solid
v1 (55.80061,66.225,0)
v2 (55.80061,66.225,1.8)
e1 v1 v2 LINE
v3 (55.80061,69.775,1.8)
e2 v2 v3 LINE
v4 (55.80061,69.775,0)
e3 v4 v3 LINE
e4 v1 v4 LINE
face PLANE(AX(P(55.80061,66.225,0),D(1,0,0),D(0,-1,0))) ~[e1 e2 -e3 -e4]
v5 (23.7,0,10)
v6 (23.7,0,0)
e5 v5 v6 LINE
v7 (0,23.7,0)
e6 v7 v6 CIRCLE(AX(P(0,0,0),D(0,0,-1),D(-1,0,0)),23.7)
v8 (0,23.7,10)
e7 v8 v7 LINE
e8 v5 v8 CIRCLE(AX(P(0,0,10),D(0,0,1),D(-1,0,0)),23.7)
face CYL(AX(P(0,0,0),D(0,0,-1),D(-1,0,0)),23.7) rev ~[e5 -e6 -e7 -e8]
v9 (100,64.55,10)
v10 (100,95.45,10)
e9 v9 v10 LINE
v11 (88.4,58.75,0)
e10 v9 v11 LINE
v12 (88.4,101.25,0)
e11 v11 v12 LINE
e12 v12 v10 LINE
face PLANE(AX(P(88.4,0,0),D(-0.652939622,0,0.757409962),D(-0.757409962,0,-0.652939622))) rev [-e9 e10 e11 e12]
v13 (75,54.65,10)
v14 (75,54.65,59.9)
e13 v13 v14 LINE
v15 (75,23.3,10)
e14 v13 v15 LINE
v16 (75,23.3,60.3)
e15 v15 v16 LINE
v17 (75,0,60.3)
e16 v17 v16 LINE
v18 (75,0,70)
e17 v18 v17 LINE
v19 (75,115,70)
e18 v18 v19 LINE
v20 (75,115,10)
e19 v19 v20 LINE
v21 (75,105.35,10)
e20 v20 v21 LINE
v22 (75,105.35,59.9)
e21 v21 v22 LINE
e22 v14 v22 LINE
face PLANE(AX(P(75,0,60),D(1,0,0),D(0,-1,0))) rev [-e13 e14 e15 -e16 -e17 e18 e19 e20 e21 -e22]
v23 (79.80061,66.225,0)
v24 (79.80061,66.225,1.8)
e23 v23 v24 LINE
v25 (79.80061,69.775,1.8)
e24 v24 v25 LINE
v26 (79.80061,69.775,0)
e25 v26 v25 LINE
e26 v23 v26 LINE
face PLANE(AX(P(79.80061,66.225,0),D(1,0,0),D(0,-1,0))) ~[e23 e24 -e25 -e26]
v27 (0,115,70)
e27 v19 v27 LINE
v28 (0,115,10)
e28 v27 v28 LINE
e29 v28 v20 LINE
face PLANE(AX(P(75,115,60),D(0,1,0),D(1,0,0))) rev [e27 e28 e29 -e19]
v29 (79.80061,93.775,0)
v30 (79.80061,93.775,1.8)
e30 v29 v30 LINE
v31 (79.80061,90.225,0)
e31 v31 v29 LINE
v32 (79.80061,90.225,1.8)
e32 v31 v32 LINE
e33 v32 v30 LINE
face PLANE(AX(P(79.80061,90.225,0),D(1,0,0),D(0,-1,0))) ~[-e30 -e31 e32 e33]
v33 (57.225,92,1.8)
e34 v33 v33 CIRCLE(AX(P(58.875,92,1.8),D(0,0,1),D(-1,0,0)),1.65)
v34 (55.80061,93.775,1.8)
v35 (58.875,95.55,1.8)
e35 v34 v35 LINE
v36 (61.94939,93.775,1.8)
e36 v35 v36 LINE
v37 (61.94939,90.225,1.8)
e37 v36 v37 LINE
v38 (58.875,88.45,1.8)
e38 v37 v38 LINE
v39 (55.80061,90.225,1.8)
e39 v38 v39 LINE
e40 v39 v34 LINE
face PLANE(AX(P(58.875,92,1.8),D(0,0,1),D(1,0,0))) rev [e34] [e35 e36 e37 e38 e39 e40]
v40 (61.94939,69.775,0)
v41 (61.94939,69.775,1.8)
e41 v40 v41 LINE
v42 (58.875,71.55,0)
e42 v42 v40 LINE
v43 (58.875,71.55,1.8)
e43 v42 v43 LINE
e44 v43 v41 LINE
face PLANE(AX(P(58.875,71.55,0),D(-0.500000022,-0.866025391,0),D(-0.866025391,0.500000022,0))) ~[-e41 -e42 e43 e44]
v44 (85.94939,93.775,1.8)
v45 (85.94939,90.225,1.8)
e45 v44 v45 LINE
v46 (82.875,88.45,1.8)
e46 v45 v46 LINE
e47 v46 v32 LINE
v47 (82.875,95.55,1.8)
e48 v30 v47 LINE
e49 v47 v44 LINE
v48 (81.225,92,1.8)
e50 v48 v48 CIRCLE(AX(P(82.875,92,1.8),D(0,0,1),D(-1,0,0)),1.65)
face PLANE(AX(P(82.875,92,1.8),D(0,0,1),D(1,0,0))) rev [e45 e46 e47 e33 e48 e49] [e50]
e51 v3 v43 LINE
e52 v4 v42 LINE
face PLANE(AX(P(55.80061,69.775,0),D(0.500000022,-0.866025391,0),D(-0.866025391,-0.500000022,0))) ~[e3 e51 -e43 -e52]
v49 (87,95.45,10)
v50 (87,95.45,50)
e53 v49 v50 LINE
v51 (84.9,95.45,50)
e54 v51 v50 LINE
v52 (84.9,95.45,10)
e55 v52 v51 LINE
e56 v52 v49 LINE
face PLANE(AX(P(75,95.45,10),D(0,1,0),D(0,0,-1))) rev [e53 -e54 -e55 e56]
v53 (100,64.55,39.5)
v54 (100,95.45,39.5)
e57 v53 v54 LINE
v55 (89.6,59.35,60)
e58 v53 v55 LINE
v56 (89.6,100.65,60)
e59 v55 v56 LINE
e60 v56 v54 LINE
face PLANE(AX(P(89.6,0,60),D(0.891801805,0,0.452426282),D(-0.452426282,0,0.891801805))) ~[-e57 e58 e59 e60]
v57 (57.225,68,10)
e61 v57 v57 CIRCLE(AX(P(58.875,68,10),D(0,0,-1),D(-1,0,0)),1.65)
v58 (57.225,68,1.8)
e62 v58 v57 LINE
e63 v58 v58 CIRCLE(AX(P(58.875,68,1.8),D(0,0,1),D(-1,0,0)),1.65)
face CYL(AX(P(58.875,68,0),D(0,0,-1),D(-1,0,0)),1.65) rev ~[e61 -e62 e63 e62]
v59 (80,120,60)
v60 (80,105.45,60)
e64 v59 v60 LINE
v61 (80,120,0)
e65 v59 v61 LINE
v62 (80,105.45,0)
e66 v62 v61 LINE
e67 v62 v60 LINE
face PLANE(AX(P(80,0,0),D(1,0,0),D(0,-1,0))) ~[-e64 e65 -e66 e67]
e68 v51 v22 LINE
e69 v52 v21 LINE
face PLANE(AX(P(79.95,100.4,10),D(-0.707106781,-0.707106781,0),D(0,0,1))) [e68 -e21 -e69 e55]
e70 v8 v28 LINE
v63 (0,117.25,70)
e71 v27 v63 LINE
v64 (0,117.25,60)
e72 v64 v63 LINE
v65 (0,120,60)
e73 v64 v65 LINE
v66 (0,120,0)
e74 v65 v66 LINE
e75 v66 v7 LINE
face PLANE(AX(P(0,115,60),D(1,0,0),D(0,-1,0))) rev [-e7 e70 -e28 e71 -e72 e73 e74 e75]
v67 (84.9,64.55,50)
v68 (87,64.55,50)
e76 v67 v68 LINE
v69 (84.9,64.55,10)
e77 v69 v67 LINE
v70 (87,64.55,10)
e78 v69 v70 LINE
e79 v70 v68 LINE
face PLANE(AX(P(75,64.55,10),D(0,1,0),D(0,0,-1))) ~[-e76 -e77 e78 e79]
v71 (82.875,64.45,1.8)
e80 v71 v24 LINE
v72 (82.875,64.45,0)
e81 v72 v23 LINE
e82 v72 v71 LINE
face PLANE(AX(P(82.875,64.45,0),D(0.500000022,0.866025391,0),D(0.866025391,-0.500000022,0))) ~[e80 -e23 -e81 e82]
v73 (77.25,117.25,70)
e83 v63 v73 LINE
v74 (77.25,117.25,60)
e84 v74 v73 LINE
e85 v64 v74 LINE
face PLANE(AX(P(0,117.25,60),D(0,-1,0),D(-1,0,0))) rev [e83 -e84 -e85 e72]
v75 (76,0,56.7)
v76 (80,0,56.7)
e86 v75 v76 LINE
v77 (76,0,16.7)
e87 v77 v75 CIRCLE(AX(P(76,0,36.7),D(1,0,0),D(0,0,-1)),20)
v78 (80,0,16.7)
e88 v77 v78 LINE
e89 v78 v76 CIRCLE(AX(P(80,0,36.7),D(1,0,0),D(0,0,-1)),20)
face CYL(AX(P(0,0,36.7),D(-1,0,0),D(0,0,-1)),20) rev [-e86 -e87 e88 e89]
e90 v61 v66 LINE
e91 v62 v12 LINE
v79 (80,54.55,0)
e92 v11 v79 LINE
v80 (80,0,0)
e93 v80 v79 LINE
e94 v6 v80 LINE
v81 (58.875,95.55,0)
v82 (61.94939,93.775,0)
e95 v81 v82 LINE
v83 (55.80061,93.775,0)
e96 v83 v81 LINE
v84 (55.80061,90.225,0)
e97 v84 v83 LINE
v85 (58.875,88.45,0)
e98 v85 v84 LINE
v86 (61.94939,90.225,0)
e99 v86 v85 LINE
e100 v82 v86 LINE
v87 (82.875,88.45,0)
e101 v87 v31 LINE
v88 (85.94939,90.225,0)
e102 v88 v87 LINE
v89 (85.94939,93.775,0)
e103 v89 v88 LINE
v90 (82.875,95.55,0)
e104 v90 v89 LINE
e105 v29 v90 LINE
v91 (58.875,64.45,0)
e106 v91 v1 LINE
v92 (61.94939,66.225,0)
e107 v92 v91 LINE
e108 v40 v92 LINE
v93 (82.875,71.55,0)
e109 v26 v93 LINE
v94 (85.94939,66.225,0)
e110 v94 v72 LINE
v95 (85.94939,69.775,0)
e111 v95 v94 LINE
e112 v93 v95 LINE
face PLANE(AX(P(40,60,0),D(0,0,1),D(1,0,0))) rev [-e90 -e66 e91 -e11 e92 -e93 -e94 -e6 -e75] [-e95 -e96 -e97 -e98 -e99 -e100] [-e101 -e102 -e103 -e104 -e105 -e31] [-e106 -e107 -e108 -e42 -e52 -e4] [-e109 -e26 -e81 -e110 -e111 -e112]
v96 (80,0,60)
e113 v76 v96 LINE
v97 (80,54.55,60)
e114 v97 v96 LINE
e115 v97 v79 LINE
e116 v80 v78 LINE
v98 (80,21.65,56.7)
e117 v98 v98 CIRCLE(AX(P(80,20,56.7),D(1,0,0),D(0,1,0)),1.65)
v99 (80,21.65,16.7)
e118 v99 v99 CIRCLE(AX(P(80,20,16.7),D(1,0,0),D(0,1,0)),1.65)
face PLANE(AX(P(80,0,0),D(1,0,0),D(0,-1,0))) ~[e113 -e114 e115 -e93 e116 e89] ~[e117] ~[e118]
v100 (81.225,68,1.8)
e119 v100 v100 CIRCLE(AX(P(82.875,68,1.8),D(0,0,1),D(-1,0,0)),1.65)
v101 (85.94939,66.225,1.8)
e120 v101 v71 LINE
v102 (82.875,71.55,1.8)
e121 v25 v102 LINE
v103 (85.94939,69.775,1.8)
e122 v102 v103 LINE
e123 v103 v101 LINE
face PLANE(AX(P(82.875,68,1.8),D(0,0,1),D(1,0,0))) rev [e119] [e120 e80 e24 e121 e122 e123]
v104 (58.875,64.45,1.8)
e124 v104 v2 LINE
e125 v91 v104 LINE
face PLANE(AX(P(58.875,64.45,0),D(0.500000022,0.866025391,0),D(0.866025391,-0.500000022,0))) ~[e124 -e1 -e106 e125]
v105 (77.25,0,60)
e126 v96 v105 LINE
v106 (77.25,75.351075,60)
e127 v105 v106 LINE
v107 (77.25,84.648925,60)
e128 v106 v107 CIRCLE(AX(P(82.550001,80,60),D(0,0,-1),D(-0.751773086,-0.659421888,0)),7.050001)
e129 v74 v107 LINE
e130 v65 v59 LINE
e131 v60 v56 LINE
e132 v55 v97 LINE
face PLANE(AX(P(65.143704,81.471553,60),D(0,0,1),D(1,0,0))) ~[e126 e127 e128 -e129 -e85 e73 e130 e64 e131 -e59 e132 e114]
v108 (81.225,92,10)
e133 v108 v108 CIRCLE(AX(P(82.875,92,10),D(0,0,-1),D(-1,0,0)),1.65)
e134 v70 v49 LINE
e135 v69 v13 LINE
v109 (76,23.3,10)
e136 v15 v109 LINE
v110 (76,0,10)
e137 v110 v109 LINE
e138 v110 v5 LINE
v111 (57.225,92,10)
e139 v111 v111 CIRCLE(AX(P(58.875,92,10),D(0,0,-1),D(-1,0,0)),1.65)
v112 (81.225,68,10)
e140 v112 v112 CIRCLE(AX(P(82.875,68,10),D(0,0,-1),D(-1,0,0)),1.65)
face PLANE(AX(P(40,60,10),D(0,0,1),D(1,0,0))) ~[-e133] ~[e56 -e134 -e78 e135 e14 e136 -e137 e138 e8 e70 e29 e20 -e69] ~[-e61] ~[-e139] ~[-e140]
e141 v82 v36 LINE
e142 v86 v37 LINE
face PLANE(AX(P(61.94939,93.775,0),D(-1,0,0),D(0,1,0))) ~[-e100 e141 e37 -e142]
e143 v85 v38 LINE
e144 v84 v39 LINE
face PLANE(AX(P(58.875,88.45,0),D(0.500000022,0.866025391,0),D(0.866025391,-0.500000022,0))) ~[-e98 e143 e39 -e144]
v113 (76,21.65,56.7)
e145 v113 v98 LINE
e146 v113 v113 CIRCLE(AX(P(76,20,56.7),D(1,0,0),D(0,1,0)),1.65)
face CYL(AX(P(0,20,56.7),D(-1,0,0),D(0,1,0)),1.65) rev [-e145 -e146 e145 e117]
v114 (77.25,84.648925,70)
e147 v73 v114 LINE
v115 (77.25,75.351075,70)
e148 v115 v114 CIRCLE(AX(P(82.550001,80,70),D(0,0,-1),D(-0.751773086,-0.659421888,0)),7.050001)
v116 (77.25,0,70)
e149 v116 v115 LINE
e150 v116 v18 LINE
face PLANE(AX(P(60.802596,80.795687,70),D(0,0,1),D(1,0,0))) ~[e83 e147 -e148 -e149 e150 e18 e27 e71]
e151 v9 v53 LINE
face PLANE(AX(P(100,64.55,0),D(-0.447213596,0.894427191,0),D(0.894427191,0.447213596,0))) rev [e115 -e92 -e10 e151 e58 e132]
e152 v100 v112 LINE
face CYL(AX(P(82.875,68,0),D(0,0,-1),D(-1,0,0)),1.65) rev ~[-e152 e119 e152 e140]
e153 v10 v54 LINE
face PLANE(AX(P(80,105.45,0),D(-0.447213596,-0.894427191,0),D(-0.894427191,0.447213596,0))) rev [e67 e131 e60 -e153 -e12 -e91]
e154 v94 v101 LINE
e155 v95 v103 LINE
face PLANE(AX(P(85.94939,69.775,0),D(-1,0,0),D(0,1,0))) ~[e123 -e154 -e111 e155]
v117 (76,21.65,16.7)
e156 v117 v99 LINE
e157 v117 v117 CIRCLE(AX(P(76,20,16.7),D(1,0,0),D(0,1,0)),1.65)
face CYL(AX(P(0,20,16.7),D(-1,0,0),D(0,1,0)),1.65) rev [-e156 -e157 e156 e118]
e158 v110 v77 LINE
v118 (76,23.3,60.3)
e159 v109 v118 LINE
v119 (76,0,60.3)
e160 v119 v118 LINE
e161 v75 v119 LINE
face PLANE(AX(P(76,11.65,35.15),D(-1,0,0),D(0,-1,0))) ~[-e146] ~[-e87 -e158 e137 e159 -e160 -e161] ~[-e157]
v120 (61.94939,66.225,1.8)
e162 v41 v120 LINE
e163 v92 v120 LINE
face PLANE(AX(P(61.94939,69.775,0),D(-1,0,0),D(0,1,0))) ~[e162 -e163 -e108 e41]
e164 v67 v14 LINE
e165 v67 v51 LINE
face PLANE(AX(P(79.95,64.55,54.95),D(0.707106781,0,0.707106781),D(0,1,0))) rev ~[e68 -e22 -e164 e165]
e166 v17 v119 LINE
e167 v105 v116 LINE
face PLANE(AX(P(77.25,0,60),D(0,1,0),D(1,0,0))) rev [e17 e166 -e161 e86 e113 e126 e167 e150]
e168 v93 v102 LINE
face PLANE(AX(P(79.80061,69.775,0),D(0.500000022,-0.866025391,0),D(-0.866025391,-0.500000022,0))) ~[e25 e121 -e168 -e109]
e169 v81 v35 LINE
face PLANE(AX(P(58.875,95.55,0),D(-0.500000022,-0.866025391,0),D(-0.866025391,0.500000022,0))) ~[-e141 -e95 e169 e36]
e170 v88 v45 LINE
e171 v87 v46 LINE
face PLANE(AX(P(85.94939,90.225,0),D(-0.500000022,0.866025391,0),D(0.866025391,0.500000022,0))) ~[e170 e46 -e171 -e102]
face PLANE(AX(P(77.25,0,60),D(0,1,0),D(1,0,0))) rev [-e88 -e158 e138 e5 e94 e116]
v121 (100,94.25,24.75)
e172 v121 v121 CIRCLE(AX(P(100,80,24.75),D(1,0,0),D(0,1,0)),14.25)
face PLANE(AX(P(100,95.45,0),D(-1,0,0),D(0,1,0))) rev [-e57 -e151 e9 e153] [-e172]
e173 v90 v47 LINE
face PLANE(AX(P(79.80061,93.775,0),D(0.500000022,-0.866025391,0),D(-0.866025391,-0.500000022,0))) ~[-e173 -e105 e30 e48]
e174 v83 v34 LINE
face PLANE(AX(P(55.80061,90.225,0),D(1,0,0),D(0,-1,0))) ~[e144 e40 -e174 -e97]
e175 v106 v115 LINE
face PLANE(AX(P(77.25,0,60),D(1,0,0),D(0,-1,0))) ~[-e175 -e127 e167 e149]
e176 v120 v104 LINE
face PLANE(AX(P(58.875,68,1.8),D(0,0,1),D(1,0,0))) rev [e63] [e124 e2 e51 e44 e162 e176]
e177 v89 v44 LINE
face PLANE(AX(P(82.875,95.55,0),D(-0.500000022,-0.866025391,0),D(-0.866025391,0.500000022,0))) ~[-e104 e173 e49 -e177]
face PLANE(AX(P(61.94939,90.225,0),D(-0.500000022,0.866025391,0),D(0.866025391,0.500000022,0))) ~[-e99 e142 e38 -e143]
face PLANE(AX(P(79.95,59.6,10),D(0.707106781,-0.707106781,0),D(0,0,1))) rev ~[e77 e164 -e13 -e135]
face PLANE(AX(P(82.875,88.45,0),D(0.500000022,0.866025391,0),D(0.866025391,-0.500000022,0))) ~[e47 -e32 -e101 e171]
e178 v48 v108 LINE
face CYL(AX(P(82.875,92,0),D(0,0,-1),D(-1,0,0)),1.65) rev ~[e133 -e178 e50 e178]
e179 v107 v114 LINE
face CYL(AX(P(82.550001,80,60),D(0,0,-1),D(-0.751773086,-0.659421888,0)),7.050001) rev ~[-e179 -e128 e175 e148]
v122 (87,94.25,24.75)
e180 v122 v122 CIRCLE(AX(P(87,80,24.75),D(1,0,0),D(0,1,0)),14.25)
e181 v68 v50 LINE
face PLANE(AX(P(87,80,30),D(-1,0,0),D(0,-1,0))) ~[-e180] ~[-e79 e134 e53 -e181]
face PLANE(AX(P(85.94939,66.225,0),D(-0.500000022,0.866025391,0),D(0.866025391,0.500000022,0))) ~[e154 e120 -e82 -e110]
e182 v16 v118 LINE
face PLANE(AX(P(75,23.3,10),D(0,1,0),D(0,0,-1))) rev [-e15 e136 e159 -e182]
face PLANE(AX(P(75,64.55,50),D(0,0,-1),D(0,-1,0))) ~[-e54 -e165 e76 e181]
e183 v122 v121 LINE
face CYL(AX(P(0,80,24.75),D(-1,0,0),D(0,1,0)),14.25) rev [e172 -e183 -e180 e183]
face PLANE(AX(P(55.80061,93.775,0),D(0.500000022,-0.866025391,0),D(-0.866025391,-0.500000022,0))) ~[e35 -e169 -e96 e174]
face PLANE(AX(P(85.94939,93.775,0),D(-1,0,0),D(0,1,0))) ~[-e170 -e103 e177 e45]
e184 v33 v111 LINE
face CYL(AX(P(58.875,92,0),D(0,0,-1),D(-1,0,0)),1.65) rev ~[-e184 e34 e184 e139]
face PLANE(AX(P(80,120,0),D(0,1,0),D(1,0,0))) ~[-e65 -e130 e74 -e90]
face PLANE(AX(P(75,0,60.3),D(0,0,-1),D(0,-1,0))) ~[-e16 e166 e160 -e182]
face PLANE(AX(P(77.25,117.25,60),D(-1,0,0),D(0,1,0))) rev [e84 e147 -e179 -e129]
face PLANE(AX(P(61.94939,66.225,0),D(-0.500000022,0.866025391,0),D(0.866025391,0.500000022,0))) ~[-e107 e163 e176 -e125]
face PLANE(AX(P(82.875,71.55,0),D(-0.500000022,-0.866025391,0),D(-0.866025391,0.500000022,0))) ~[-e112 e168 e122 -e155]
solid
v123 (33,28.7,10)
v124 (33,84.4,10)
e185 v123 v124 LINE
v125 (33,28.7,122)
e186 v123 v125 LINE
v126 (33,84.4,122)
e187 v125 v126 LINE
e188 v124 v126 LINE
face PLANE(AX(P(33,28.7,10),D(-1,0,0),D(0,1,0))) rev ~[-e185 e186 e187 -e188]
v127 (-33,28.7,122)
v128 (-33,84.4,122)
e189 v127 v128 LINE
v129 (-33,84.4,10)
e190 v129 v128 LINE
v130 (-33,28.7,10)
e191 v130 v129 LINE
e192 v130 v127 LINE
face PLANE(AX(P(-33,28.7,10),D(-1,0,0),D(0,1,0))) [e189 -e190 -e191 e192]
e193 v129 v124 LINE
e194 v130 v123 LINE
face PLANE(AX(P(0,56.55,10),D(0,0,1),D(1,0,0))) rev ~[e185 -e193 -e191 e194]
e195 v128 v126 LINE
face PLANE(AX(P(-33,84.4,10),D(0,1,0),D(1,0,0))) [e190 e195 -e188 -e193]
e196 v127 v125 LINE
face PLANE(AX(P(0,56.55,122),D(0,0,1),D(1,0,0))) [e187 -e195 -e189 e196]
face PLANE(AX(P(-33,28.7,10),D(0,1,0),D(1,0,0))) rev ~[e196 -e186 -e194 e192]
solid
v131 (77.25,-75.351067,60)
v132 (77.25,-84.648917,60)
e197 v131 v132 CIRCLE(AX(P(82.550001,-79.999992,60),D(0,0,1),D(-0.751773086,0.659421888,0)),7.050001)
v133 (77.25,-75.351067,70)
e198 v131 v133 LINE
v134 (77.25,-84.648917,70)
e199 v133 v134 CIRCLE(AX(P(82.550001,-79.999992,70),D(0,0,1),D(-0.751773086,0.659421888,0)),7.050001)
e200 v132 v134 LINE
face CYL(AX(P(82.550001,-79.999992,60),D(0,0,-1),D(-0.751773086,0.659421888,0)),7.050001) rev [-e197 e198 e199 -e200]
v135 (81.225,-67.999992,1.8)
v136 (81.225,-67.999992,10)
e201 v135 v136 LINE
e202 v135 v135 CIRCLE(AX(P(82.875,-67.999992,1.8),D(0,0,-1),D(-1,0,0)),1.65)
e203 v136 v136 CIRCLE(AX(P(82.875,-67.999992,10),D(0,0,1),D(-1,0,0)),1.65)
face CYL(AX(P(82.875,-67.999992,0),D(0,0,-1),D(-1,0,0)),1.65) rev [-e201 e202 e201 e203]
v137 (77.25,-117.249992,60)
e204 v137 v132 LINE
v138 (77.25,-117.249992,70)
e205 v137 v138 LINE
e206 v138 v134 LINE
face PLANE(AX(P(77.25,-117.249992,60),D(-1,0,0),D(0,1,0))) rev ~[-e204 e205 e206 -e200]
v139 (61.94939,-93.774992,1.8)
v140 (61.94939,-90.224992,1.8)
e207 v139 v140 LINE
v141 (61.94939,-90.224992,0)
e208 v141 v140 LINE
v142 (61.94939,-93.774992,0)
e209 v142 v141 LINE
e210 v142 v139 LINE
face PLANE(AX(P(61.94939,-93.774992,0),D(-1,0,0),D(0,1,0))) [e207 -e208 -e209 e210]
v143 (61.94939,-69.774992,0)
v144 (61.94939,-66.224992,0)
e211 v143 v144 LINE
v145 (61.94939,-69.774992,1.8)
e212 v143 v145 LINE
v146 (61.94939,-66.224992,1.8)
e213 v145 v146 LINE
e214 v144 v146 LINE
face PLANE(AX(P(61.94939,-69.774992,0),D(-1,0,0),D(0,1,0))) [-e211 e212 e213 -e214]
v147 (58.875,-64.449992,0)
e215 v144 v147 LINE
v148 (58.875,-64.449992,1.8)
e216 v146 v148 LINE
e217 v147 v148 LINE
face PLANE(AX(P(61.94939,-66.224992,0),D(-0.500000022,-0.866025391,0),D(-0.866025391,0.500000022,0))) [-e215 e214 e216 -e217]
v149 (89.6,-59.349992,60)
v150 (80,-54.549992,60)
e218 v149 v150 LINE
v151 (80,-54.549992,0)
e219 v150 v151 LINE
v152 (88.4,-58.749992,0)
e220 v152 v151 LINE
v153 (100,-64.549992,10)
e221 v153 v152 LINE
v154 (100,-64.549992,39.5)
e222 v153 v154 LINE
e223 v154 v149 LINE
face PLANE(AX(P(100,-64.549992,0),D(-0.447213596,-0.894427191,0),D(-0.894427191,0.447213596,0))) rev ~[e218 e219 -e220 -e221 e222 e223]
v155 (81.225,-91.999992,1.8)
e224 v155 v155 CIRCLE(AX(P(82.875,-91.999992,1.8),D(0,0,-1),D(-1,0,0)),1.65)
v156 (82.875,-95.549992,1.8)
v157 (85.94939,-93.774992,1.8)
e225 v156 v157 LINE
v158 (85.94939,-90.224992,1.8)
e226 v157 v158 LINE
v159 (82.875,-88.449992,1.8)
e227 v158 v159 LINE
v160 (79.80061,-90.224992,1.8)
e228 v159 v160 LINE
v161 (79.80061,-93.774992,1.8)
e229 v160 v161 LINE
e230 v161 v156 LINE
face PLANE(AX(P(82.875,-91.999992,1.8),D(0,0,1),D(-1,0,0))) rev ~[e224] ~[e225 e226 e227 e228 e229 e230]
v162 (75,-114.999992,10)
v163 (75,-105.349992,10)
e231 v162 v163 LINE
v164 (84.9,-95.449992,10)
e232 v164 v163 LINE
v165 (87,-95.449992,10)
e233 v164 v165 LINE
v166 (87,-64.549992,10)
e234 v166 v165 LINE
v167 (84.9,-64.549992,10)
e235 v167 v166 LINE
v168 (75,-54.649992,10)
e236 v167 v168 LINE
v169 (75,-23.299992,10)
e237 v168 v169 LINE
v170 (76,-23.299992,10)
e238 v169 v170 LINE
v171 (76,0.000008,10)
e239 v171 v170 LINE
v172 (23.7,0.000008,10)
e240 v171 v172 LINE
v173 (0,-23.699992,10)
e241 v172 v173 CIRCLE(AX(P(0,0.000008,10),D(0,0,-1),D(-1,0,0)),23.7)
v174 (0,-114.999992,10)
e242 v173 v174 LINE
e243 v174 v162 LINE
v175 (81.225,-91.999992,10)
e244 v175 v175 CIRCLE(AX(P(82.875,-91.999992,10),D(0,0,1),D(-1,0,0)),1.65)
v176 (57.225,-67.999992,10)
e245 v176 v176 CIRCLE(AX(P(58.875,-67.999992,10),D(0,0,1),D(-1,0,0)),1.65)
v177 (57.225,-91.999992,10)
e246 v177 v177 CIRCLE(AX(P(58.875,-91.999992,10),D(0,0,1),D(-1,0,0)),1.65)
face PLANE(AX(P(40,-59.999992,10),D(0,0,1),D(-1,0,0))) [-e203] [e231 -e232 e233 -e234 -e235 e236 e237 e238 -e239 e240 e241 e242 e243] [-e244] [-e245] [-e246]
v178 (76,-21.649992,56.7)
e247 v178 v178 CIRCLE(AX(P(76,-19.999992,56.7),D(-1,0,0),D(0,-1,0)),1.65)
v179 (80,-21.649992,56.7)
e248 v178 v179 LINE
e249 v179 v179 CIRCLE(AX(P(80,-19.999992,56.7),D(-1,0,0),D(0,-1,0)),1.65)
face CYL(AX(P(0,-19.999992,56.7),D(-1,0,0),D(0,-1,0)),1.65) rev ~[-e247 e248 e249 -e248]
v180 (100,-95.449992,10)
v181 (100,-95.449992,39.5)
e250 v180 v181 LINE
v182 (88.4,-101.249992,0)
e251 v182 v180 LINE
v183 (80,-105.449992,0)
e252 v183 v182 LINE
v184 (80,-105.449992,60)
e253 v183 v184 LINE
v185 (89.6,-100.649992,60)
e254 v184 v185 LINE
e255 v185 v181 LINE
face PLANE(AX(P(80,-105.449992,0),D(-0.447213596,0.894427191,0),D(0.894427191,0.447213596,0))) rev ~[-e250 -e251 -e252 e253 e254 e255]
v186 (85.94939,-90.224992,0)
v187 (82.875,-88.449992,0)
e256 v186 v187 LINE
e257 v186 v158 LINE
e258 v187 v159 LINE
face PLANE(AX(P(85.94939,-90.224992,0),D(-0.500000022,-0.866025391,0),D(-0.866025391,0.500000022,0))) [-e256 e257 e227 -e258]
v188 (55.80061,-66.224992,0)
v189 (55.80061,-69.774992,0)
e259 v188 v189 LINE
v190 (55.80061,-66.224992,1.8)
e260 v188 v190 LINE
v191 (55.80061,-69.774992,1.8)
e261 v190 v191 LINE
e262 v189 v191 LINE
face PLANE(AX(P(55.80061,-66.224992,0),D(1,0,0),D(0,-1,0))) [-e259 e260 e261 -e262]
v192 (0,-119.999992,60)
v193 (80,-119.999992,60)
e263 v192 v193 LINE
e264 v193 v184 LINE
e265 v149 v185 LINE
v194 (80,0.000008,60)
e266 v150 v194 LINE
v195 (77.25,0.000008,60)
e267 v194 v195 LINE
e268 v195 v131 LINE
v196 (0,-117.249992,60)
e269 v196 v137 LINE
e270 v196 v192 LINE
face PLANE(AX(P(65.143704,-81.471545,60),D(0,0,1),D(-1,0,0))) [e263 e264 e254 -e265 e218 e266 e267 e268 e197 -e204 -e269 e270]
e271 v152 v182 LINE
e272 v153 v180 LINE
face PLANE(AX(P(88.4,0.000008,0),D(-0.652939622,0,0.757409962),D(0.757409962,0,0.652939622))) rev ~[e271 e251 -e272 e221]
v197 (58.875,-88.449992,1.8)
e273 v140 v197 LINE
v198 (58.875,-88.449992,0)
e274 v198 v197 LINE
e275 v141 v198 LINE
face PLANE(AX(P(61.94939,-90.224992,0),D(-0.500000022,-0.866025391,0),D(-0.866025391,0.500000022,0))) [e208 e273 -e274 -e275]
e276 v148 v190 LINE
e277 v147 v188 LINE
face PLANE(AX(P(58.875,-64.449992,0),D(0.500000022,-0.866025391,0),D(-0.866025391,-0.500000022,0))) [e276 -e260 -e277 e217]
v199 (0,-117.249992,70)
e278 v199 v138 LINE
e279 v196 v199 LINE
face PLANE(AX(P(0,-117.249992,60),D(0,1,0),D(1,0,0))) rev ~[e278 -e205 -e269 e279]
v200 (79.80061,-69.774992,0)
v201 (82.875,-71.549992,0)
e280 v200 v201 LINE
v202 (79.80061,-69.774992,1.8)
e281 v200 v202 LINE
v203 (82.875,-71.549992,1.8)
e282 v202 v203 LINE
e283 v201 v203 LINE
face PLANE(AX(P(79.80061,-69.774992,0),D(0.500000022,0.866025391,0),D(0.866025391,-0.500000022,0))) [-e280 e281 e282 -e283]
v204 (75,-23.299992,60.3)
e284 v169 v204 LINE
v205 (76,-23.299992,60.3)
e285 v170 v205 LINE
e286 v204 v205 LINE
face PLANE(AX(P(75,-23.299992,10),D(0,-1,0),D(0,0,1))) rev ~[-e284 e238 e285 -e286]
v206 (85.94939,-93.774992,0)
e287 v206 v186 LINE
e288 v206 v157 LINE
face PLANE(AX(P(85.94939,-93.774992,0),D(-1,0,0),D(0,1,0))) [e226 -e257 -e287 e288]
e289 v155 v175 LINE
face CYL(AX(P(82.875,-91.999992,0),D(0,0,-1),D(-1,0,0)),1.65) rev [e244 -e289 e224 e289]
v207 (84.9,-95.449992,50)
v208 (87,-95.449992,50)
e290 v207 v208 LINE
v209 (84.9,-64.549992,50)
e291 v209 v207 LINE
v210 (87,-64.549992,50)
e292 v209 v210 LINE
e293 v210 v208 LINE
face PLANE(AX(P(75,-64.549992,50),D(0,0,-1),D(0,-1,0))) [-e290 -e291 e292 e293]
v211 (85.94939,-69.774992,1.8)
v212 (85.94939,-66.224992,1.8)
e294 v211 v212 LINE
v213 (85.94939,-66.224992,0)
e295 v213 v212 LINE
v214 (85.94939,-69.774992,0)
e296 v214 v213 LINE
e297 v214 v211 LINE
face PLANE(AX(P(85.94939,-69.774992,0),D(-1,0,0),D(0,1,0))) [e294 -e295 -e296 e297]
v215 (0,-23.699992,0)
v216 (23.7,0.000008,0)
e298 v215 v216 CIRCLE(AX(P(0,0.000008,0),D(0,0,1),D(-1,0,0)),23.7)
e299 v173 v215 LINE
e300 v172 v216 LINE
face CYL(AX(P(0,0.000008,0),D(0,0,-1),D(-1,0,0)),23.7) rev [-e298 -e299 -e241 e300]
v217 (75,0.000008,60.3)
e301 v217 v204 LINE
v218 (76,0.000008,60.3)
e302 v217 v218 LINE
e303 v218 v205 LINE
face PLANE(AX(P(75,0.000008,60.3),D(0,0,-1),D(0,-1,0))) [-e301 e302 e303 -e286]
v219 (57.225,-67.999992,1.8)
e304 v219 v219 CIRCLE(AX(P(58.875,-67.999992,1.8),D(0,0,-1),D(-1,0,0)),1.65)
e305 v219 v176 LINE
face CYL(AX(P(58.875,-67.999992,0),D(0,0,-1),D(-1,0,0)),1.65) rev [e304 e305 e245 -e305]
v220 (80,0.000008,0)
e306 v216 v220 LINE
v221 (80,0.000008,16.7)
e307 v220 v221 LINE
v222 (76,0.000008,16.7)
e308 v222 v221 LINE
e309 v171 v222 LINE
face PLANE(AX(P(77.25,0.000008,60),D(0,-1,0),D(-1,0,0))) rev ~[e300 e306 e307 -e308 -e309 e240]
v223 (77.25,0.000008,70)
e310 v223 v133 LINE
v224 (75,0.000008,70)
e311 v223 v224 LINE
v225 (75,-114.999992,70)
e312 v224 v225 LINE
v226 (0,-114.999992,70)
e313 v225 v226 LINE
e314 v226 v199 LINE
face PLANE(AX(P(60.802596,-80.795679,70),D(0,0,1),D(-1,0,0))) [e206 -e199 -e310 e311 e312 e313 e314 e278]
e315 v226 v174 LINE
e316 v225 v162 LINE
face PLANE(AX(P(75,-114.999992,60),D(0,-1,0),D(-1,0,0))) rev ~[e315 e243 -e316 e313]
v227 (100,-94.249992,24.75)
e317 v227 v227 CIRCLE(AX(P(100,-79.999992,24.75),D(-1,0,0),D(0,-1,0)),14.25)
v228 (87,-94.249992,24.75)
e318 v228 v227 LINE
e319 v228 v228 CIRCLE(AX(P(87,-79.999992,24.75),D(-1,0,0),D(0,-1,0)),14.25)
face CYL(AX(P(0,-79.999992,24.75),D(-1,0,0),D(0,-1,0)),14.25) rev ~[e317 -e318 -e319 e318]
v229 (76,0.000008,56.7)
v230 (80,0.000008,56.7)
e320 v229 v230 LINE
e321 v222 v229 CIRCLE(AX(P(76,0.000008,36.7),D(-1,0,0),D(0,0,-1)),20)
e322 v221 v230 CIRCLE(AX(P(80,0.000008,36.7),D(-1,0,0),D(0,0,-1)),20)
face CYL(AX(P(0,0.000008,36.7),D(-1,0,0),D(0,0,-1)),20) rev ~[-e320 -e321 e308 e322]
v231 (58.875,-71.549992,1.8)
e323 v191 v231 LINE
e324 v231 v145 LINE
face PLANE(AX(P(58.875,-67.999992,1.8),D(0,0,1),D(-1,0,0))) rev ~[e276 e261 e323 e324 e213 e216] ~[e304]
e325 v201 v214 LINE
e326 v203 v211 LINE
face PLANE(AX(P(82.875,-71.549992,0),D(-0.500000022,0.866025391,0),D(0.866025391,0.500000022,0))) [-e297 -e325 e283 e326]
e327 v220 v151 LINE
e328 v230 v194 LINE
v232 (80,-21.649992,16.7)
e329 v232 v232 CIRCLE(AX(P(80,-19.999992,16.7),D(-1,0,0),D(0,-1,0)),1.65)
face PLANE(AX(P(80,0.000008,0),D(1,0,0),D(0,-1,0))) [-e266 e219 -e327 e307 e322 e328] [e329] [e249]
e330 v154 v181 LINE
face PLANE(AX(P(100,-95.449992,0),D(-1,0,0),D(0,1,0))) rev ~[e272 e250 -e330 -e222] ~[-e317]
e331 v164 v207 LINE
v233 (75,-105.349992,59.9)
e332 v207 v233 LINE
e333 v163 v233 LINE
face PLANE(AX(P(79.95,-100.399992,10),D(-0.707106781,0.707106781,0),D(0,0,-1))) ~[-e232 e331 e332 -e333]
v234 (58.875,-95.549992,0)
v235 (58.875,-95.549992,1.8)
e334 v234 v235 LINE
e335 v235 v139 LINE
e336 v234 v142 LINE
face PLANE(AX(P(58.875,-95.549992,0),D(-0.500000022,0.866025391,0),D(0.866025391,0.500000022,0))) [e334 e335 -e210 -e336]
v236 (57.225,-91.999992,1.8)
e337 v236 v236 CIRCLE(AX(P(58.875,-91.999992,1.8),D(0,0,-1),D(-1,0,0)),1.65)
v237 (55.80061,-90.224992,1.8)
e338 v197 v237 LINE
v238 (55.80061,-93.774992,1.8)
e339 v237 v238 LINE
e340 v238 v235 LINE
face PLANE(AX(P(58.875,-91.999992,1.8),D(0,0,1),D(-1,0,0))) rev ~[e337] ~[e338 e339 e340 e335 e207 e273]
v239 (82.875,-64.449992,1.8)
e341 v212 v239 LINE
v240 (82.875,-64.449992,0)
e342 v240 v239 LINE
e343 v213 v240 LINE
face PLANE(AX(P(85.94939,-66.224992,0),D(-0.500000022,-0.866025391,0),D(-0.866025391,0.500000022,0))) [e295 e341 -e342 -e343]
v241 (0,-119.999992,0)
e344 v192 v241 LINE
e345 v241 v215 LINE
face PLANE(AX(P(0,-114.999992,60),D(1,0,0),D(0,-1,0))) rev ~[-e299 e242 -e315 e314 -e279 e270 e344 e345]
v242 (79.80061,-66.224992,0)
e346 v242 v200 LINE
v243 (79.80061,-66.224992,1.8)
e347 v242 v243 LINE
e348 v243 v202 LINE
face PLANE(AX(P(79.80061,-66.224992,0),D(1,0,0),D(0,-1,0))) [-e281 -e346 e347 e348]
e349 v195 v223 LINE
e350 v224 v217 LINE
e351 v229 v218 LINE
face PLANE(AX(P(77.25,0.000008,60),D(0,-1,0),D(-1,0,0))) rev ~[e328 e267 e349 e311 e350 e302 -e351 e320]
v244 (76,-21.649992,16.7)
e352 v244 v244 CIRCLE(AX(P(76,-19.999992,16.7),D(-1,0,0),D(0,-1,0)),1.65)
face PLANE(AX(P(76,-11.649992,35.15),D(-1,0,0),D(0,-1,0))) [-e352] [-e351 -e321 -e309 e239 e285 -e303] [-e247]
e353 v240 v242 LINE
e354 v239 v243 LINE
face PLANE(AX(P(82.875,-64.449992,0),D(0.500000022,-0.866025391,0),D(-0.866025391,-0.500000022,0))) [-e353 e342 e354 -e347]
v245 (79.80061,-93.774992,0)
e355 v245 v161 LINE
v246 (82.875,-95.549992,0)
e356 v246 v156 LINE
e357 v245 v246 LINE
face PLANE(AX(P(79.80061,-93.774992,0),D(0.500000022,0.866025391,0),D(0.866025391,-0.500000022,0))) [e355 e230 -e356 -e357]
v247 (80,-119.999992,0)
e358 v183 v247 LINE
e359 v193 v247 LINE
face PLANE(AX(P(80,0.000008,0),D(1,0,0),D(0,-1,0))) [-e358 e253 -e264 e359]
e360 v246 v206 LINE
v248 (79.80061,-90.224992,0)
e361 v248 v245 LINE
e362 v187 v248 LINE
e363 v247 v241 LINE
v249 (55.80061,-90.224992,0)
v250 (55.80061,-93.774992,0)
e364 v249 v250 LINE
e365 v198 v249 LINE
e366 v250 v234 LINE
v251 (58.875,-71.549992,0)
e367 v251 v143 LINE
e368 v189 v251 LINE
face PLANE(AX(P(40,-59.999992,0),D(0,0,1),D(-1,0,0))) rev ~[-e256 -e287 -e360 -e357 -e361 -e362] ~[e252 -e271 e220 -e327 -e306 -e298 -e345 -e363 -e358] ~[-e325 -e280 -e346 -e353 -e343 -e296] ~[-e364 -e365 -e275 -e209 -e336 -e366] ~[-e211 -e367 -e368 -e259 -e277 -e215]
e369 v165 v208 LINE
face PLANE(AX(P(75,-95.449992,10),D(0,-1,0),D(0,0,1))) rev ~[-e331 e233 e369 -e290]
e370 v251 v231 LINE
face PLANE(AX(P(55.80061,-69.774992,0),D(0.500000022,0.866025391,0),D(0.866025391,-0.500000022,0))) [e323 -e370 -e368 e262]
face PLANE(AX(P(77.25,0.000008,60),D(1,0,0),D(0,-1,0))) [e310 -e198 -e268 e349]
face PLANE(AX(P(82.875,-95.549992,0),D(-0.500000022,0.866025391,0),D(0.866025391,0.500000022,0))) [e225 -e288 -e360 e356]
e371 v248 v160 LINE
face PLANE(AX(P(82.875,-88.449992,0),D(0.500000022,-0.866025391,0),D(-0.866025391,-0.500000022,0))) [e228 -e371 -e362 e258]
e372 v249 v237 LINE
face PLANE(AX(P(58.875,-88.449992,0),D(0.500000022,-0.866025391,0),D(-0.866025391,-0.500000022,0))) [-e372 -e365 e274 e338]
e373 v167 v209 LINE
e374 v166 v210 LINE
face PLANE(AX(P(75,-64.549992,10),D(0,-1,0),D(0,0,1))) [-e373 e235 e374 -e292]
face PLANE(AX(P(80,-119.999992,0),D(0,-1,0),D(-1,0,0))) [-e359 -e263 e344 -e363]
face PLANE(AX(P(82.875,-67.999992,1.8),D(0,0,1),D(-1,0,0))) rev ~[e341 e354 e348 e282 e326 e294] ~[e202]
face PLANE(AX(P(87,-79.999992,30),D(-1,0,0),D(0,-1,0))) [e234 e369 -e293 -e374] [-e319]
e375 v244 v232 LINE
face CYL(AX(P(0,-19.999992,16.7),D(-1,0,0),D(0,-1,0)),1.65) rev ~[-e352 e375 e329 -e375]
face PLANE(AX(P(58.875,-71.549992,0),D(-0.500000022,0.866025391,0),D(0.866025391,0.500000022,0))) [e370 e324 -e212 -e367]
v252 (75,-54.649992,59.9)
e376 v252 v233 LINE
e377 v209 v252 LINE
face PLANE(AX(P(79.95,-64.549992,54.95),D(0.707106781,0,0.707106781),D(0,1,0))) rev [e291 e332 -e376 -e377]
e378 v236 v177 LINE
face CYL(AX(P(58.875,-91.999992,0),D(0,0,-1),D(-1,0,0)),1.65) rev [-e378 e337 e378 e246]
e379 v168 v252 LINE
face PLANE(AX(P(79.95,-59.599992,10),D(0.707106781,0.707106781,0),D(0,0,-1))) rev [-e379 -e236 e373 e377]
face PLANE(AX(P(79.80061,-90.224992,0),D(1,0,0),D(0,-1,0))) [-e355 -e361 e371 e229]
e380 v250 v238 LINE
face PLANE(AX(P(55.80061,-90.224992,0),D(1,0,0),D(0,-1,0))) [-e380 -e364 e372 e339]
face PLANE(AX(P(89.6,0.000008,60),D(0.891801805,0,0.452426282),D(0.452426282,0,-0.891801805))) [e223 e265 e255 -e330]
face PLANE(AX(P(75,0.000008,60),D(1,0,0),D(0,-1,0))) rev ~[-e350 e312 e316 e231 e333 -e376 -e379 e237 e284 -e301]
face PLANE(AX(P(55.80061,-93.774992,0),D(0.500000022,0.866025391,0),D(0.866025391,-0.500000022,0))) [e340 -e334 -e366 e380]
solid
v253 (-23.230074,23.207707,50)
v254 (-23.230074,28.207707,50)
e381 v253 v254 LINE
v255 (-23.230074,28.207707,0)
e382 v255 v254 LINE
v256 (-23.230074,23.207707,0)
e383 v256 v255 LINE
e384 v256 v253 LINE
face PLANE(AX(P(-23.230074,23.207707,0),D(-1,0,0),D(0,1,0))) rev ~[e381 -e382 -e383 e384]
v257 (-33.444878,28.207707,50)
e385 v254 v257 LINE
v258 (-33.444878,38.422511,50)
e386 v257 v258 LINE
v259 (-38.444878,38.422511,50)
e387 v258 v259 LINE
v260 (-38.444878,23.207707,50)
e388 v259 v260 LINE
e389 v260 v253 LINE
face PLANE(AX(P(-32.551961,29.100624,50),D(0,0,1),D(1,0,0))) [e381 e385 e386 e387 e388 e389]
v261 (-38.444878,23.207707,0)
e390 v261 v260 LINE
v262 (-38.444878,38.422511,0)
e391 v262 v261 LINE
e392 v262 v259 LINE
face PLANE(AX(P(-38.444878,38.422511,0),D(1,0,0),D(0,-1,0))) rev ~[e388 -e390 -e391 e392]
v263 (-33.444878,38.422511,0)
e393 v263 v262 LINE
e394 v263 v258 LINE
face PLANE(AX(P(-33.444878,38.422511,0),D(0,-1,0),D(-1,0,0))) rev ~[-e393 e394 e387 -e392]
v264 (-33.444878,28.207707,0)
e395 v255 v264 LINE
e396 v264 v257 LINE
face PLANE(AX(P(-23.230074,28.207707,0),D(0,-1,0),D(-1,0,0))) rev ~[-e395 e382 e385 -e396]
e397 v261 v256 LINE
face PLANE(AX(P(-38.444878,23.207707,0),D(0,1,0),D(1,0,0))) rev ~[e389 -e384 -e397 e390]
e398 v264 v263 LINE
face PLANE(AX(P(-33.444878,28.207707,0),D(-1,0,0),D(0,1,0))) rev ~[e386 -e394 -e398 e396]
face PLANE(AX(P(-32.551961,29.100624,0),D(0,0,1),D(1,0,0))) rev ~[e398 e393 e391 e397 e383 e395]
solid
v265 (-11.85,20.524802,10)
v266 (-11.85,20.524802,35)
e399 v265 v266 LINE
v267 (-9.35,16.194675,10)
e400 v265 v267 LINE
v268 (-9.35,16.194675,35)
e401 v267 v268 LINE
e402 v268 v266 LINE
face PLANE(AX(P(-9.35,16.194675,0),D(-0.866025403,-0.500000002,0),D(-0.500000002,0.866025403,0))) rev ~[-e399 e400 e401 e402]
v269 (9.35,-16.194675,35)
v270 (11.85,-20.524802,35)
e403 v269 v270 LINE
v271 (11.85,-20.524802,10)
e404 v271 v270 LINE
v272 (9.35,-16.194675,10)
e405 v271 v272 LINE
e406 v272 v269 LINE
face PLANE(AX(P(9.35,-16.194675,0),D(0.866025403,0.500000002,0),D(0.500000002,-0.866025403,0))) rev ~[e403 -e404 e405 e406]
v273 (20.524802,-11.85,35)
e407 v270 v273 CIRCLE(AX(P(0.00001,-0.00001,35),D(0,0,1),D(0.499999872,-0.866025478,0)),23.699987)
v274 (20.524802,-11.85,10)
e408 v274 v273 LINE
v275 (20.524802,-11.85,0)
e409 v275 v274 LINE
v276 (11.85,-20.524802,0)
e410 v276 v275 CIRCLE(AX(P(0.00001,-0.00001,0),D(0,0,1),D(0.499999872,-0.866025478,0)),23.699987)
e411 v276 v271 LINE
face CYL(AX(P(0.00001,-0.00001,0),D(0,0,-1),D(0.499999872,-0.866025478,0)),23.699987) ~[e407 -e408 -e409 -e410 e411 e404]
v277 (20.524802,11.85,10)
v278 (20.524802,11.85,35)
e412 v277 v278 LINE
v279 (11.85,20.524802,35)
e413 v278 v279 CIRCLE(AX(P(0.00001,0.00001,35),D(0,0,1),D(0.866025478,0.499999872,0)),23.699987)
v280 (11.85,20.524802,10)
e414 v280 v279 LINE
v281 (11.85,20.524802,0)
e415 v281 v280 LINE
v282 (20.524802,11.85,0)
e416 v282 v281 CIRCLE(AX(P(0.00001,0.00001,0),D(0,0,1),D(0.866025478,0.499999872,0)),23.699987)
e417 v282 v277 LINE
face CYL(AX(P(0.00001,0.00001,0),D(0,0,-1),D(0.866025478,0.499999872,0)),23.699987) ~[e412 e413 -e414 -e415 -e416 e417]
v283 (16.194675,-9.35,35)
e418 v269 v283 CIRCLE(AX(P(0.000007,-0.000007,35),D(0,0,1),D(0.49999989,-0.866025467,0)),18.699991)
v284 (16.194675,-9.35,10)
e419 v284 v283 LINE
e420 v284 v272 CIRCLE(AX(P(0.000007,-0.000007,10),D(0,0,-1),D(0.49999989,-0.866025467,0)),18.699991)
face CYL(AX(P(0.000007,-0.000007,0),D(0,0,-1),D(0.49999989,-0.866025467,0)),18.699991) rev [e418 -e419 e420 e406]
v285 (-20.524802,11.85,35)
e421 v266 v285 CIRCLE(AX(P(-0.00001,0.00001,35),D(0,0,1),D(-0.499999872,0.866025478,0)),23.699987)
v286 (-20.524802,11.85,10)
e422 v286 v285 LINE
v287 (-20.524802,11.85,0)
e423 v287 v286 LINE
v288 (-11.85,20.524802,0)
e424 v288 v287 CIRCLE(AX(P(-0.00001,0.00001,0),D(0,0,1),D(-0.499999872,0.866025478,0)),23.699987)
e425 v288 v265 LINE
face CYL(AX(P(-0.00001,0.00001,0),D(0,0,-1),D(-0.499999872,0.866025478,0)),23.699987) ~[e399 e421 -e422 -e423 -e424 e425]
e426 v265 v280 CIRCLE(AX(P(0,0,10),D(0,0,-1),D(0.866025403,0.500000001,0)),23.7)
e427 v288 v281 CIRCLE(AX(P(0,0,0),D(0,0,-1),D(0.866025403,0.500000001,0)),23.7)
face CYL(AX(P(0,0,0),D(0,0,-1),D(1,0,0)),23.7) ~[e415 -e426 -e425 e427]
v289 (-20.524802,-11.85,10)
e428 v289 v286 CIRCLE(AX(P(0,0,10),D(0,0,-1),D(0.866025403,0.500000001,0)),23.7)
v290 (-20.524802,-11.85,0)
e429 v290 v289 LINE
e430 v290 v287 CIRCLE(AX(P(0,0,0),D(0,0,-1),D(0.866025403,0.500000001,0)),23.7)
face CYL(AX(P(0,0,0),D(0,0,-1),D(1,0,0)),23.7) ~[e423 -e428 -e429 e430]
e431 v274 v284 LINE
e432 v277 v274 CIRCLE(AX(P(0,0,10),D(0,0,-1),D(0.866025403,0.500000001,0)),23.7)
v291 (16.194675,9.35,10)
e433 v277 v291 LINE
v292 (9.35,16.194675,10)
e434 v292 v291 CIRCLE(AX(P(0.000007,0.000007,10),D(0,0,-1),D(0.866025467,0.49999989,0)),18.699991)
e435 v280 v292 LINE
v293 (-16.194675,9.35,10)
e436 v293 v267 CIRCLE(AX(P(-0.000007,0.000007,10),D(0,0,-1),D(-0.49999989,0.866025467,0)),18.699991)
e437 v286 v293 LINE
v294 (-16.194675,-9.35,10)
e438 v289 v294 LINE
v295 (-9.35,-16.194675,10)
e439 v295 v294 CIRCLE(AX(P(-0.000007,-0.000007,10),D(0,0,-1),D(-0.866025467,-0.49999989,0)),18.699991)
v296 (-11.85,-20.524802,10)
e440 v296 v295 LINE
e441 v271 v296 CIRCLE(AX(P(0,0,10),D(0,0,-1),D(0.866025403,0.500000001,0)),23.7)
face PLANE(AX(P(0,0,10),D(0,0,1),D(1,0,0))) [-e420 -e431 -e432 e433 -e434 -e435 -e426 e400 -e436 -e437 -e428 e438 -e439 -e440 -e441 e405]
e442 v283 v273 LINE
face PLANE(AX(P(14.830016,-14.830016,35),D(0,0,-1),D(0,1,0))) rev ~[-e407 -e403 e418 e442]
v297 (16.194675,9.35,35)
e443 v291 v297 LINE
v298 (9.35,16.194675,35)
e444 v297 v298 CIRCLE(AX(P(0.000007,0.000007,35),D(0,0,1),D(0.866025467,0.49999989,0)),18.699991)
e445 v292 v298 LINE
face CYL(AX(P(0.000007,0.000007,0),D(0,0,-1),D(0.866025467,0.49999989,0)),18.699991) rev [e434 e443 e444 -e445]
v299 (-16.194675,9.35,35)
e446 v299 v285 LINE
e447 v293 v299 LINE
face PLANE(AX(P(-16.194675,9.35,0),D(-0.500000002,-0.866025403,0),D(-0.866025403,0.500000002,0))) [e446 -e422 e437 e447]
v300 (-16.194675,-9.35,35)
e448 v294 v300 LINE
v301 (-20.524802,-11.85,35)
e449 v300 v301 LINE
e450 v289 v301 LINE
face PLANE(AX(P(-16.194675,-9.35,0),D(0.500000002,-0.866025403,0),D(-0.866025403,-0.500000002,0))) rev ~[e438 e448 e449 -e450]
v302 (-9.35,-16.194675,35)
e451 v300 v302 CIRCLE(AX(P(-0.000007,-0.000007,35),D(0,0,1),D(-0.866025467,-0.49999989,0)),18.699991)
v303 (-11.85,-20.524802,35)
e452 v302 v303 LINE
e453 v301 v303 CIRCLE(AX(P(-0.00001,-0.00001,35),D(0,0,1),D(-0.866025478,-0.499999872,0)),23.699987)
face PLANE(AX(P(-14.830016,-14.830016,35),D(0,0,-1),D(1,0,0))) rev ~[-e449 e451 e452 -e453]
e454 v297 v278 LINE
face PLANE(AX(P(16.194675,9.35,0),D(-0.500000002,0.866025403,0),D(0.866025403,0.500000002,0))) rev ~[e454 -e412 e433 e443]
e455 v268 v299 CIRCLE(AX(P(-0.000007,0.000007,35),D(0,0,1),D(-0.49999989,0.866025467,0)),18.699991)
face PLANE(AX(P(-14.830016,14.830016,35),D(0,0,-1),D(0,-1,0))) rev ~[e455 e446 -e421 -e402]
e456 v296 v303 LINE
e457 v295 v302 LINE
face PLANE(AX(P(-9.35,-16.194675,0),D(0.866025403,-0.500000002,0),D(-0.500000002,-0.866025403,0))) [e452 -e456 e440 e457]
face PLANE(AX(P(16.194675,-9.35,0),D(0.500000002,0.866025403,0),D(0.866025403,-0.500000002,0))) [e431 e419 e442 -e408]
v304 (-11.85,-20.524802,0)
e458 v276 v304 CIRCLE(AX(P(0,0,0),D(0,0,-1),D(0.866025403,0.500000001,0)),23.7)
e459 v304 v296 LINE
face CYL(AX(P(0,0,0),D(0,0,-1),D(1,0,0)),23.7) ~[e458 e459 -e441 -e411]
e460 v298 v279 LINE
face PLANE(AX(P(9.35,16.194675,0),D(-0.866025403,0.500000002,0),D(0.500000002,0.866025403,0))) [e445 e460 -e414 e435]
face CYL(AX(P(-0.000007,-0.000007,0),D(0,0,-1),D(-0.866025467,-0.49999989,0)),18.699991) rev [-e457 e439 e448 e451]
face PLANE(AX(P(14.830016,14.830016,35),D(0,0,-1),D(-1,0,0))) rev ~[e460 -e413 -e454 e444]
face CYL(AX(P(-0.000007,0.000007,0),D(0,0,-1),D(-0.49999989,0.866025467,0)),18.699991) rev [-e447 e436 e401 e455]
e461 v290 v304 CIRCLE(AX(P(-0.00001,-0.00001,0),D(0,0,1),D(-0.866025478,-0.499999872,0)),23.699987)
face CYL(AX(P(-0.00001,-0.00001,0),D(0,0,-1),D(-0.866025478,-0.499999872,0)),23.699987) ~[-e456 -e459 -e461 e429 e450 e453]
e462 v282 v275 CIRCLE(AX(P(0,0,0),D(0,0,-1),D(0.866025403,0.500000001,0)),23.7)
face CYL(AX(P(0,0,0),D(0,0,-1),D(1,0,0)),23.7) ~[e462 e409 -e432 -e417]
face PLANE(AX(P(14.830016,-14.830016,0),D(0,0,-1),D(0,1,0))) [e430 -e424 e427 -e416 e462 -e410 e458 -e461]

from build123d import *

# Parameters (mm, degrees)
SKETCH010_R        = 23.7
PAD003_DEPTH       = 10
PAD002_DEPTH       = 35
POLARPATTERN_COUNT = 4
SKETCH_W           = 80
SKETCH_H           = 120
PAD_DEPTH          = 10
PAD001_DEPTH       = 60
SKETCH003_W        = 30.9
SKETCH003_H        = 40
POCKET_DEPTH       = 12
SKETCH004_R        = 14.25
POCKET001_DEPTH    = 100.001
SKETCH005_R        = 1.65
POCKET002_DEPTH    = 10
POCKET003_DEPTH    = 1.8
POCKET004_DEPTH    = 120.001
SKETCH009_R        = 23.7
POCKET005_DEPTH    = 60.001
PAD004_DEPTH       = 10
SKETCH016_R        = 1.65
POCKET009_DEPTH    = 100.001
SKETCH017_W        = 23.3
SKETCH017_H        = 50.3
POCKET010_DEPTH    = 1
CHAMFER_SIZE       = 9.9
SKETCH018_W        = 66
SKETCH018_H        = 55.7
PAD005_DEPTH       = 112
PAD006_DEPTH       = 50


with BuildPart() as body_grasscutter:
    # Sketch010 → Pad003 (new body)
    with BuildSketch(Plane.XY):
        Circle(SKETCH010_R)
    extrude(amount=PAD003_DEPTH)

    # Sketch008 → Pad002 (join)
    with BuildSketch(Plane.XY):
        with BuildLine():
            ThreePointArc((16.194675, 9.35), (13.222897, 13.222897), (9.35, 16.194675))
            Line((9.35, 16.194675), (11.85, 20.524802))
            ThreePointArc((20.524802, 11.85), (16.758431, 16.758431), (11.85, 20.524802))
            Line((16.194675, 9.35), (20.524802, 11.85))
        make_face()
    pad002 = extrude(amount=PAD002_DEPTH)

    # PolarPattern: Pad002 ×4 about axis
    polarpattern_axis = Axis((0, 0, 0), (0, 0, 1))
    for i in range(1, POLARPATTERN_COUNT):
        add(pad002.rotate(polarpattern_axis, i * 360 / POLARPATTERN_COUNT))


with BuildPart() as body_q11_lower:
    # Sketch → Pad (new body)
    with BuildSketch(Plane.XY):
        with Locations((-40, 60)):
            Rectangle(SKETCH_W, SKETCH_H)
    extrude(amount=PAD_DEPTH)

    # Sketch002 → Pad001 (join)
    with BuildSketch(Plane.XY):
        Polygon((0, 115), (0, 120), (-80, 120), (-80, 105.45), (-100, 95.45), (-100, 64.55), (-80, 54.55), (-80, 0), (-75, 0), (-75, 115), align=None)
    extrude(amount=PAD001_DEPTH)

    # Sketch003 → Pocket (cut)
    with BuildSketch(Plane.YZ.offset(-75)):
        with Locations((80, 30)):
            Rectangle(SKETCH003_W, SKETCH003_H)
    extrude(amount=-POCKET_DEPTH, mode=Mode.SUBTRACT)

    # Sketch004 → Pocket001 (cut, through all)
    with BuildSketch(Plane.YZ):
        with Locations((80, 24.75)):
            Circle(SKETCH004_R)
    extrude(amount=-POCKET001_DEPTH, mode=Mode.SUBTRACT)

    # Sketch005 → Pocket002 (cut)
    with BuildSketch(Plane.XY):
        with Locations((-82.875, 92)):
            Circle(SKETCH005_R)
        with Locations((-58.875, 92)):
            Circle(SKETCH005_R)
        with Locations((-58.875, 68)):
            Circle(SKETCH005_R)
        with Locations((-82.875, 68)):
            Circle(SKETCH005_R)
    extrude(amount=POCKET002_DEPTH, mode=Mode.SUBTRACT)

    # Sketch006 → Pocket003 (cut)
    with BuildSketch(Plane.XY):
        Polygon((-79.80061, 93.775), (-82.875, 95.55), (-85.94939, 93.775), (-85.94939, 90.225), (-82.875, 88.45), (-79.80061, 90.225), align=None)
        Polygon((-55.80061, 93.775), (-58.875, 95.55), (-61.94939, 93.775), (-61.94939, 90.225), (-58.875, 88.45), (-55.80061, 90.225), align=None)
        Polygon((-58.875, 71.55), (-61.94939, 69.775), (-61.94939, 66.225), (-58.875, 64.45), (-55.80061, 66.225), (-55.80061, 69.775), align=None)
        Polygon((-79.80061, 69.775), (-82.875, 71.55), (-85.94939, 69.775), (-85.94939, 66.225), (-82.875, 64.45), (-79.80061, 66.225), align=None)
    extrude(amount=POCKET003_DEPTH, mode=Mode.SUBTRACT)

    # Sketch007 → Pocket004 (cut, through all)
    with BuildSketch(Plane.XZ):
        Polygon((-89.6, 60), (-100, 39.5), (-100, 60), align=None)
        Polygon((-88.4, 0), (-100, 10), (-100, 0), align=None)
    extrude(amount=-POCKET004_DEPTH, mode=Mode.SUBTRACT)

    # Sketch009 → Pocket005 (cut, through all)
    with BuildSketch(Plane.XY):
        Circle(SKETCH009_R)
    extrude(amount=POCKET005_DEPTH, mode=Mode.SUBTRACT)

    # Sketch014 → Pad004 (join)
    with BuildSketch(Plane.XY.offset(60)):
        with BuildLine():
            Line((0, 115), (0, 117.25))
            Line((0, 117.25), (-77.25, 117.25))
            Line((-77.25, 117.25), (-77.25, 84.648925))
            ThreePointArc((-77.25, 75.351075), (-75.5, 80), (-77.25, 84.648925))
            Line((-77.25, 0), (-77.25, 75.351075))
            Line((-77.25, 0), (-75, 0))
            Line((-75, 0), (-75, 115))
            Line((-75, 115), (0, 115))
        make_face()
    extrude(amount=PAD004_DEPTH)

    # Sketch016 → Pocket009 (cut, through all)
    with BuildSketch(Plane.YZ):
        with Locations((20, 56.7)):
            Circle(SKETCH016_R)
        with Locations((20, 16.7)):
            Circle(SKETCH016_R)
        with BuildLine():
            ThreePointArc((0, 16.7), (20, 36.7), (0, 56.7))
            Line((0, 56.7), (0, 16.7))
        make_face()
    extrude(amount=-POCKET009_DEPTH, mode=Mode.SUBTRACT)

    # Sketch017 → Pocket010 (cut)
    with BuildSketch(Plane.YZ.offset(-75)):
        with Locations((11.65, 35.15)):
            Rectangle(SKETCH017_W, SKETCH017_H)
    extrude(amount=-POCKET010_DEPTH, mode=Mode.SUBTRACT)

    # Chamfer
    chamfer_edges = [body_q11_lower.edges().sort_by_distance(p)[0] for p in [
        (-75, 95.45, 30),
        (-75, 80, 50),
        (-75, 64.55, 30),
    ]]
    chamfer(chamfer_edges, length=CHAMFER_SIZE)


with BuildPart() as part_mirroring001:
    # Part__Mirroring001: instance of Body-q11-lower
    add(body_q11_lower.part.mirror(Plane(origin=(0, 0, 0), x_dir=(0, -1, 0), z_dir=(1, 0, 0))))


with BuildPart() as part_mirroring:
    # Part__Mirroring: instance of Body-q11-lower
    add(body_q11_lower.part.mirror(Plane(origin=(-50, 4e-06, 35), x_dir=(1, 0, 0), z_dir=(0, 1, 0))))


with BuildPart() as part_mirroring002:
    # Part__Mirroring002: instance of Part__Mirroring
    add(part_mirroring.part.mirror(Plane(origin=(0, 0, 0), x_dir=(0, -1, 0), z_dir=(1, 0, 0))))


with BuildPart() as body_battery:
    # Sketch018 → Pad005 (new body)
    with BuildSketch(Plane(origin=(0, 28.7, 10), x_dir=(1, 0, 0), z_dir=(0, 0, 1))):
        with Locations((0, 27.85)):
            Rectangle(SKETCH018_W, SKETCH018_H)
    extrude(amount=PAD005_DEPTH)


with BuildPart() as body003:
    # Sketch021 → Pad006 (new body)
    with BuildSketch(Plane.XY):
        Polygon((-38.444878, 38.422511), (-38.444878, 23.207707), (-23.230074, 23.207707), (-23.230074, 28.207707), (-33.444878, 28.207707), (-33.444878, 38.422511), align=None)
    extrude(amount=PAD006_DEPTH)


solid = Compound([body_grasscutter.part, part_mirroring001.part, part_mirroring002.part, body_battery.part, body003.part])
